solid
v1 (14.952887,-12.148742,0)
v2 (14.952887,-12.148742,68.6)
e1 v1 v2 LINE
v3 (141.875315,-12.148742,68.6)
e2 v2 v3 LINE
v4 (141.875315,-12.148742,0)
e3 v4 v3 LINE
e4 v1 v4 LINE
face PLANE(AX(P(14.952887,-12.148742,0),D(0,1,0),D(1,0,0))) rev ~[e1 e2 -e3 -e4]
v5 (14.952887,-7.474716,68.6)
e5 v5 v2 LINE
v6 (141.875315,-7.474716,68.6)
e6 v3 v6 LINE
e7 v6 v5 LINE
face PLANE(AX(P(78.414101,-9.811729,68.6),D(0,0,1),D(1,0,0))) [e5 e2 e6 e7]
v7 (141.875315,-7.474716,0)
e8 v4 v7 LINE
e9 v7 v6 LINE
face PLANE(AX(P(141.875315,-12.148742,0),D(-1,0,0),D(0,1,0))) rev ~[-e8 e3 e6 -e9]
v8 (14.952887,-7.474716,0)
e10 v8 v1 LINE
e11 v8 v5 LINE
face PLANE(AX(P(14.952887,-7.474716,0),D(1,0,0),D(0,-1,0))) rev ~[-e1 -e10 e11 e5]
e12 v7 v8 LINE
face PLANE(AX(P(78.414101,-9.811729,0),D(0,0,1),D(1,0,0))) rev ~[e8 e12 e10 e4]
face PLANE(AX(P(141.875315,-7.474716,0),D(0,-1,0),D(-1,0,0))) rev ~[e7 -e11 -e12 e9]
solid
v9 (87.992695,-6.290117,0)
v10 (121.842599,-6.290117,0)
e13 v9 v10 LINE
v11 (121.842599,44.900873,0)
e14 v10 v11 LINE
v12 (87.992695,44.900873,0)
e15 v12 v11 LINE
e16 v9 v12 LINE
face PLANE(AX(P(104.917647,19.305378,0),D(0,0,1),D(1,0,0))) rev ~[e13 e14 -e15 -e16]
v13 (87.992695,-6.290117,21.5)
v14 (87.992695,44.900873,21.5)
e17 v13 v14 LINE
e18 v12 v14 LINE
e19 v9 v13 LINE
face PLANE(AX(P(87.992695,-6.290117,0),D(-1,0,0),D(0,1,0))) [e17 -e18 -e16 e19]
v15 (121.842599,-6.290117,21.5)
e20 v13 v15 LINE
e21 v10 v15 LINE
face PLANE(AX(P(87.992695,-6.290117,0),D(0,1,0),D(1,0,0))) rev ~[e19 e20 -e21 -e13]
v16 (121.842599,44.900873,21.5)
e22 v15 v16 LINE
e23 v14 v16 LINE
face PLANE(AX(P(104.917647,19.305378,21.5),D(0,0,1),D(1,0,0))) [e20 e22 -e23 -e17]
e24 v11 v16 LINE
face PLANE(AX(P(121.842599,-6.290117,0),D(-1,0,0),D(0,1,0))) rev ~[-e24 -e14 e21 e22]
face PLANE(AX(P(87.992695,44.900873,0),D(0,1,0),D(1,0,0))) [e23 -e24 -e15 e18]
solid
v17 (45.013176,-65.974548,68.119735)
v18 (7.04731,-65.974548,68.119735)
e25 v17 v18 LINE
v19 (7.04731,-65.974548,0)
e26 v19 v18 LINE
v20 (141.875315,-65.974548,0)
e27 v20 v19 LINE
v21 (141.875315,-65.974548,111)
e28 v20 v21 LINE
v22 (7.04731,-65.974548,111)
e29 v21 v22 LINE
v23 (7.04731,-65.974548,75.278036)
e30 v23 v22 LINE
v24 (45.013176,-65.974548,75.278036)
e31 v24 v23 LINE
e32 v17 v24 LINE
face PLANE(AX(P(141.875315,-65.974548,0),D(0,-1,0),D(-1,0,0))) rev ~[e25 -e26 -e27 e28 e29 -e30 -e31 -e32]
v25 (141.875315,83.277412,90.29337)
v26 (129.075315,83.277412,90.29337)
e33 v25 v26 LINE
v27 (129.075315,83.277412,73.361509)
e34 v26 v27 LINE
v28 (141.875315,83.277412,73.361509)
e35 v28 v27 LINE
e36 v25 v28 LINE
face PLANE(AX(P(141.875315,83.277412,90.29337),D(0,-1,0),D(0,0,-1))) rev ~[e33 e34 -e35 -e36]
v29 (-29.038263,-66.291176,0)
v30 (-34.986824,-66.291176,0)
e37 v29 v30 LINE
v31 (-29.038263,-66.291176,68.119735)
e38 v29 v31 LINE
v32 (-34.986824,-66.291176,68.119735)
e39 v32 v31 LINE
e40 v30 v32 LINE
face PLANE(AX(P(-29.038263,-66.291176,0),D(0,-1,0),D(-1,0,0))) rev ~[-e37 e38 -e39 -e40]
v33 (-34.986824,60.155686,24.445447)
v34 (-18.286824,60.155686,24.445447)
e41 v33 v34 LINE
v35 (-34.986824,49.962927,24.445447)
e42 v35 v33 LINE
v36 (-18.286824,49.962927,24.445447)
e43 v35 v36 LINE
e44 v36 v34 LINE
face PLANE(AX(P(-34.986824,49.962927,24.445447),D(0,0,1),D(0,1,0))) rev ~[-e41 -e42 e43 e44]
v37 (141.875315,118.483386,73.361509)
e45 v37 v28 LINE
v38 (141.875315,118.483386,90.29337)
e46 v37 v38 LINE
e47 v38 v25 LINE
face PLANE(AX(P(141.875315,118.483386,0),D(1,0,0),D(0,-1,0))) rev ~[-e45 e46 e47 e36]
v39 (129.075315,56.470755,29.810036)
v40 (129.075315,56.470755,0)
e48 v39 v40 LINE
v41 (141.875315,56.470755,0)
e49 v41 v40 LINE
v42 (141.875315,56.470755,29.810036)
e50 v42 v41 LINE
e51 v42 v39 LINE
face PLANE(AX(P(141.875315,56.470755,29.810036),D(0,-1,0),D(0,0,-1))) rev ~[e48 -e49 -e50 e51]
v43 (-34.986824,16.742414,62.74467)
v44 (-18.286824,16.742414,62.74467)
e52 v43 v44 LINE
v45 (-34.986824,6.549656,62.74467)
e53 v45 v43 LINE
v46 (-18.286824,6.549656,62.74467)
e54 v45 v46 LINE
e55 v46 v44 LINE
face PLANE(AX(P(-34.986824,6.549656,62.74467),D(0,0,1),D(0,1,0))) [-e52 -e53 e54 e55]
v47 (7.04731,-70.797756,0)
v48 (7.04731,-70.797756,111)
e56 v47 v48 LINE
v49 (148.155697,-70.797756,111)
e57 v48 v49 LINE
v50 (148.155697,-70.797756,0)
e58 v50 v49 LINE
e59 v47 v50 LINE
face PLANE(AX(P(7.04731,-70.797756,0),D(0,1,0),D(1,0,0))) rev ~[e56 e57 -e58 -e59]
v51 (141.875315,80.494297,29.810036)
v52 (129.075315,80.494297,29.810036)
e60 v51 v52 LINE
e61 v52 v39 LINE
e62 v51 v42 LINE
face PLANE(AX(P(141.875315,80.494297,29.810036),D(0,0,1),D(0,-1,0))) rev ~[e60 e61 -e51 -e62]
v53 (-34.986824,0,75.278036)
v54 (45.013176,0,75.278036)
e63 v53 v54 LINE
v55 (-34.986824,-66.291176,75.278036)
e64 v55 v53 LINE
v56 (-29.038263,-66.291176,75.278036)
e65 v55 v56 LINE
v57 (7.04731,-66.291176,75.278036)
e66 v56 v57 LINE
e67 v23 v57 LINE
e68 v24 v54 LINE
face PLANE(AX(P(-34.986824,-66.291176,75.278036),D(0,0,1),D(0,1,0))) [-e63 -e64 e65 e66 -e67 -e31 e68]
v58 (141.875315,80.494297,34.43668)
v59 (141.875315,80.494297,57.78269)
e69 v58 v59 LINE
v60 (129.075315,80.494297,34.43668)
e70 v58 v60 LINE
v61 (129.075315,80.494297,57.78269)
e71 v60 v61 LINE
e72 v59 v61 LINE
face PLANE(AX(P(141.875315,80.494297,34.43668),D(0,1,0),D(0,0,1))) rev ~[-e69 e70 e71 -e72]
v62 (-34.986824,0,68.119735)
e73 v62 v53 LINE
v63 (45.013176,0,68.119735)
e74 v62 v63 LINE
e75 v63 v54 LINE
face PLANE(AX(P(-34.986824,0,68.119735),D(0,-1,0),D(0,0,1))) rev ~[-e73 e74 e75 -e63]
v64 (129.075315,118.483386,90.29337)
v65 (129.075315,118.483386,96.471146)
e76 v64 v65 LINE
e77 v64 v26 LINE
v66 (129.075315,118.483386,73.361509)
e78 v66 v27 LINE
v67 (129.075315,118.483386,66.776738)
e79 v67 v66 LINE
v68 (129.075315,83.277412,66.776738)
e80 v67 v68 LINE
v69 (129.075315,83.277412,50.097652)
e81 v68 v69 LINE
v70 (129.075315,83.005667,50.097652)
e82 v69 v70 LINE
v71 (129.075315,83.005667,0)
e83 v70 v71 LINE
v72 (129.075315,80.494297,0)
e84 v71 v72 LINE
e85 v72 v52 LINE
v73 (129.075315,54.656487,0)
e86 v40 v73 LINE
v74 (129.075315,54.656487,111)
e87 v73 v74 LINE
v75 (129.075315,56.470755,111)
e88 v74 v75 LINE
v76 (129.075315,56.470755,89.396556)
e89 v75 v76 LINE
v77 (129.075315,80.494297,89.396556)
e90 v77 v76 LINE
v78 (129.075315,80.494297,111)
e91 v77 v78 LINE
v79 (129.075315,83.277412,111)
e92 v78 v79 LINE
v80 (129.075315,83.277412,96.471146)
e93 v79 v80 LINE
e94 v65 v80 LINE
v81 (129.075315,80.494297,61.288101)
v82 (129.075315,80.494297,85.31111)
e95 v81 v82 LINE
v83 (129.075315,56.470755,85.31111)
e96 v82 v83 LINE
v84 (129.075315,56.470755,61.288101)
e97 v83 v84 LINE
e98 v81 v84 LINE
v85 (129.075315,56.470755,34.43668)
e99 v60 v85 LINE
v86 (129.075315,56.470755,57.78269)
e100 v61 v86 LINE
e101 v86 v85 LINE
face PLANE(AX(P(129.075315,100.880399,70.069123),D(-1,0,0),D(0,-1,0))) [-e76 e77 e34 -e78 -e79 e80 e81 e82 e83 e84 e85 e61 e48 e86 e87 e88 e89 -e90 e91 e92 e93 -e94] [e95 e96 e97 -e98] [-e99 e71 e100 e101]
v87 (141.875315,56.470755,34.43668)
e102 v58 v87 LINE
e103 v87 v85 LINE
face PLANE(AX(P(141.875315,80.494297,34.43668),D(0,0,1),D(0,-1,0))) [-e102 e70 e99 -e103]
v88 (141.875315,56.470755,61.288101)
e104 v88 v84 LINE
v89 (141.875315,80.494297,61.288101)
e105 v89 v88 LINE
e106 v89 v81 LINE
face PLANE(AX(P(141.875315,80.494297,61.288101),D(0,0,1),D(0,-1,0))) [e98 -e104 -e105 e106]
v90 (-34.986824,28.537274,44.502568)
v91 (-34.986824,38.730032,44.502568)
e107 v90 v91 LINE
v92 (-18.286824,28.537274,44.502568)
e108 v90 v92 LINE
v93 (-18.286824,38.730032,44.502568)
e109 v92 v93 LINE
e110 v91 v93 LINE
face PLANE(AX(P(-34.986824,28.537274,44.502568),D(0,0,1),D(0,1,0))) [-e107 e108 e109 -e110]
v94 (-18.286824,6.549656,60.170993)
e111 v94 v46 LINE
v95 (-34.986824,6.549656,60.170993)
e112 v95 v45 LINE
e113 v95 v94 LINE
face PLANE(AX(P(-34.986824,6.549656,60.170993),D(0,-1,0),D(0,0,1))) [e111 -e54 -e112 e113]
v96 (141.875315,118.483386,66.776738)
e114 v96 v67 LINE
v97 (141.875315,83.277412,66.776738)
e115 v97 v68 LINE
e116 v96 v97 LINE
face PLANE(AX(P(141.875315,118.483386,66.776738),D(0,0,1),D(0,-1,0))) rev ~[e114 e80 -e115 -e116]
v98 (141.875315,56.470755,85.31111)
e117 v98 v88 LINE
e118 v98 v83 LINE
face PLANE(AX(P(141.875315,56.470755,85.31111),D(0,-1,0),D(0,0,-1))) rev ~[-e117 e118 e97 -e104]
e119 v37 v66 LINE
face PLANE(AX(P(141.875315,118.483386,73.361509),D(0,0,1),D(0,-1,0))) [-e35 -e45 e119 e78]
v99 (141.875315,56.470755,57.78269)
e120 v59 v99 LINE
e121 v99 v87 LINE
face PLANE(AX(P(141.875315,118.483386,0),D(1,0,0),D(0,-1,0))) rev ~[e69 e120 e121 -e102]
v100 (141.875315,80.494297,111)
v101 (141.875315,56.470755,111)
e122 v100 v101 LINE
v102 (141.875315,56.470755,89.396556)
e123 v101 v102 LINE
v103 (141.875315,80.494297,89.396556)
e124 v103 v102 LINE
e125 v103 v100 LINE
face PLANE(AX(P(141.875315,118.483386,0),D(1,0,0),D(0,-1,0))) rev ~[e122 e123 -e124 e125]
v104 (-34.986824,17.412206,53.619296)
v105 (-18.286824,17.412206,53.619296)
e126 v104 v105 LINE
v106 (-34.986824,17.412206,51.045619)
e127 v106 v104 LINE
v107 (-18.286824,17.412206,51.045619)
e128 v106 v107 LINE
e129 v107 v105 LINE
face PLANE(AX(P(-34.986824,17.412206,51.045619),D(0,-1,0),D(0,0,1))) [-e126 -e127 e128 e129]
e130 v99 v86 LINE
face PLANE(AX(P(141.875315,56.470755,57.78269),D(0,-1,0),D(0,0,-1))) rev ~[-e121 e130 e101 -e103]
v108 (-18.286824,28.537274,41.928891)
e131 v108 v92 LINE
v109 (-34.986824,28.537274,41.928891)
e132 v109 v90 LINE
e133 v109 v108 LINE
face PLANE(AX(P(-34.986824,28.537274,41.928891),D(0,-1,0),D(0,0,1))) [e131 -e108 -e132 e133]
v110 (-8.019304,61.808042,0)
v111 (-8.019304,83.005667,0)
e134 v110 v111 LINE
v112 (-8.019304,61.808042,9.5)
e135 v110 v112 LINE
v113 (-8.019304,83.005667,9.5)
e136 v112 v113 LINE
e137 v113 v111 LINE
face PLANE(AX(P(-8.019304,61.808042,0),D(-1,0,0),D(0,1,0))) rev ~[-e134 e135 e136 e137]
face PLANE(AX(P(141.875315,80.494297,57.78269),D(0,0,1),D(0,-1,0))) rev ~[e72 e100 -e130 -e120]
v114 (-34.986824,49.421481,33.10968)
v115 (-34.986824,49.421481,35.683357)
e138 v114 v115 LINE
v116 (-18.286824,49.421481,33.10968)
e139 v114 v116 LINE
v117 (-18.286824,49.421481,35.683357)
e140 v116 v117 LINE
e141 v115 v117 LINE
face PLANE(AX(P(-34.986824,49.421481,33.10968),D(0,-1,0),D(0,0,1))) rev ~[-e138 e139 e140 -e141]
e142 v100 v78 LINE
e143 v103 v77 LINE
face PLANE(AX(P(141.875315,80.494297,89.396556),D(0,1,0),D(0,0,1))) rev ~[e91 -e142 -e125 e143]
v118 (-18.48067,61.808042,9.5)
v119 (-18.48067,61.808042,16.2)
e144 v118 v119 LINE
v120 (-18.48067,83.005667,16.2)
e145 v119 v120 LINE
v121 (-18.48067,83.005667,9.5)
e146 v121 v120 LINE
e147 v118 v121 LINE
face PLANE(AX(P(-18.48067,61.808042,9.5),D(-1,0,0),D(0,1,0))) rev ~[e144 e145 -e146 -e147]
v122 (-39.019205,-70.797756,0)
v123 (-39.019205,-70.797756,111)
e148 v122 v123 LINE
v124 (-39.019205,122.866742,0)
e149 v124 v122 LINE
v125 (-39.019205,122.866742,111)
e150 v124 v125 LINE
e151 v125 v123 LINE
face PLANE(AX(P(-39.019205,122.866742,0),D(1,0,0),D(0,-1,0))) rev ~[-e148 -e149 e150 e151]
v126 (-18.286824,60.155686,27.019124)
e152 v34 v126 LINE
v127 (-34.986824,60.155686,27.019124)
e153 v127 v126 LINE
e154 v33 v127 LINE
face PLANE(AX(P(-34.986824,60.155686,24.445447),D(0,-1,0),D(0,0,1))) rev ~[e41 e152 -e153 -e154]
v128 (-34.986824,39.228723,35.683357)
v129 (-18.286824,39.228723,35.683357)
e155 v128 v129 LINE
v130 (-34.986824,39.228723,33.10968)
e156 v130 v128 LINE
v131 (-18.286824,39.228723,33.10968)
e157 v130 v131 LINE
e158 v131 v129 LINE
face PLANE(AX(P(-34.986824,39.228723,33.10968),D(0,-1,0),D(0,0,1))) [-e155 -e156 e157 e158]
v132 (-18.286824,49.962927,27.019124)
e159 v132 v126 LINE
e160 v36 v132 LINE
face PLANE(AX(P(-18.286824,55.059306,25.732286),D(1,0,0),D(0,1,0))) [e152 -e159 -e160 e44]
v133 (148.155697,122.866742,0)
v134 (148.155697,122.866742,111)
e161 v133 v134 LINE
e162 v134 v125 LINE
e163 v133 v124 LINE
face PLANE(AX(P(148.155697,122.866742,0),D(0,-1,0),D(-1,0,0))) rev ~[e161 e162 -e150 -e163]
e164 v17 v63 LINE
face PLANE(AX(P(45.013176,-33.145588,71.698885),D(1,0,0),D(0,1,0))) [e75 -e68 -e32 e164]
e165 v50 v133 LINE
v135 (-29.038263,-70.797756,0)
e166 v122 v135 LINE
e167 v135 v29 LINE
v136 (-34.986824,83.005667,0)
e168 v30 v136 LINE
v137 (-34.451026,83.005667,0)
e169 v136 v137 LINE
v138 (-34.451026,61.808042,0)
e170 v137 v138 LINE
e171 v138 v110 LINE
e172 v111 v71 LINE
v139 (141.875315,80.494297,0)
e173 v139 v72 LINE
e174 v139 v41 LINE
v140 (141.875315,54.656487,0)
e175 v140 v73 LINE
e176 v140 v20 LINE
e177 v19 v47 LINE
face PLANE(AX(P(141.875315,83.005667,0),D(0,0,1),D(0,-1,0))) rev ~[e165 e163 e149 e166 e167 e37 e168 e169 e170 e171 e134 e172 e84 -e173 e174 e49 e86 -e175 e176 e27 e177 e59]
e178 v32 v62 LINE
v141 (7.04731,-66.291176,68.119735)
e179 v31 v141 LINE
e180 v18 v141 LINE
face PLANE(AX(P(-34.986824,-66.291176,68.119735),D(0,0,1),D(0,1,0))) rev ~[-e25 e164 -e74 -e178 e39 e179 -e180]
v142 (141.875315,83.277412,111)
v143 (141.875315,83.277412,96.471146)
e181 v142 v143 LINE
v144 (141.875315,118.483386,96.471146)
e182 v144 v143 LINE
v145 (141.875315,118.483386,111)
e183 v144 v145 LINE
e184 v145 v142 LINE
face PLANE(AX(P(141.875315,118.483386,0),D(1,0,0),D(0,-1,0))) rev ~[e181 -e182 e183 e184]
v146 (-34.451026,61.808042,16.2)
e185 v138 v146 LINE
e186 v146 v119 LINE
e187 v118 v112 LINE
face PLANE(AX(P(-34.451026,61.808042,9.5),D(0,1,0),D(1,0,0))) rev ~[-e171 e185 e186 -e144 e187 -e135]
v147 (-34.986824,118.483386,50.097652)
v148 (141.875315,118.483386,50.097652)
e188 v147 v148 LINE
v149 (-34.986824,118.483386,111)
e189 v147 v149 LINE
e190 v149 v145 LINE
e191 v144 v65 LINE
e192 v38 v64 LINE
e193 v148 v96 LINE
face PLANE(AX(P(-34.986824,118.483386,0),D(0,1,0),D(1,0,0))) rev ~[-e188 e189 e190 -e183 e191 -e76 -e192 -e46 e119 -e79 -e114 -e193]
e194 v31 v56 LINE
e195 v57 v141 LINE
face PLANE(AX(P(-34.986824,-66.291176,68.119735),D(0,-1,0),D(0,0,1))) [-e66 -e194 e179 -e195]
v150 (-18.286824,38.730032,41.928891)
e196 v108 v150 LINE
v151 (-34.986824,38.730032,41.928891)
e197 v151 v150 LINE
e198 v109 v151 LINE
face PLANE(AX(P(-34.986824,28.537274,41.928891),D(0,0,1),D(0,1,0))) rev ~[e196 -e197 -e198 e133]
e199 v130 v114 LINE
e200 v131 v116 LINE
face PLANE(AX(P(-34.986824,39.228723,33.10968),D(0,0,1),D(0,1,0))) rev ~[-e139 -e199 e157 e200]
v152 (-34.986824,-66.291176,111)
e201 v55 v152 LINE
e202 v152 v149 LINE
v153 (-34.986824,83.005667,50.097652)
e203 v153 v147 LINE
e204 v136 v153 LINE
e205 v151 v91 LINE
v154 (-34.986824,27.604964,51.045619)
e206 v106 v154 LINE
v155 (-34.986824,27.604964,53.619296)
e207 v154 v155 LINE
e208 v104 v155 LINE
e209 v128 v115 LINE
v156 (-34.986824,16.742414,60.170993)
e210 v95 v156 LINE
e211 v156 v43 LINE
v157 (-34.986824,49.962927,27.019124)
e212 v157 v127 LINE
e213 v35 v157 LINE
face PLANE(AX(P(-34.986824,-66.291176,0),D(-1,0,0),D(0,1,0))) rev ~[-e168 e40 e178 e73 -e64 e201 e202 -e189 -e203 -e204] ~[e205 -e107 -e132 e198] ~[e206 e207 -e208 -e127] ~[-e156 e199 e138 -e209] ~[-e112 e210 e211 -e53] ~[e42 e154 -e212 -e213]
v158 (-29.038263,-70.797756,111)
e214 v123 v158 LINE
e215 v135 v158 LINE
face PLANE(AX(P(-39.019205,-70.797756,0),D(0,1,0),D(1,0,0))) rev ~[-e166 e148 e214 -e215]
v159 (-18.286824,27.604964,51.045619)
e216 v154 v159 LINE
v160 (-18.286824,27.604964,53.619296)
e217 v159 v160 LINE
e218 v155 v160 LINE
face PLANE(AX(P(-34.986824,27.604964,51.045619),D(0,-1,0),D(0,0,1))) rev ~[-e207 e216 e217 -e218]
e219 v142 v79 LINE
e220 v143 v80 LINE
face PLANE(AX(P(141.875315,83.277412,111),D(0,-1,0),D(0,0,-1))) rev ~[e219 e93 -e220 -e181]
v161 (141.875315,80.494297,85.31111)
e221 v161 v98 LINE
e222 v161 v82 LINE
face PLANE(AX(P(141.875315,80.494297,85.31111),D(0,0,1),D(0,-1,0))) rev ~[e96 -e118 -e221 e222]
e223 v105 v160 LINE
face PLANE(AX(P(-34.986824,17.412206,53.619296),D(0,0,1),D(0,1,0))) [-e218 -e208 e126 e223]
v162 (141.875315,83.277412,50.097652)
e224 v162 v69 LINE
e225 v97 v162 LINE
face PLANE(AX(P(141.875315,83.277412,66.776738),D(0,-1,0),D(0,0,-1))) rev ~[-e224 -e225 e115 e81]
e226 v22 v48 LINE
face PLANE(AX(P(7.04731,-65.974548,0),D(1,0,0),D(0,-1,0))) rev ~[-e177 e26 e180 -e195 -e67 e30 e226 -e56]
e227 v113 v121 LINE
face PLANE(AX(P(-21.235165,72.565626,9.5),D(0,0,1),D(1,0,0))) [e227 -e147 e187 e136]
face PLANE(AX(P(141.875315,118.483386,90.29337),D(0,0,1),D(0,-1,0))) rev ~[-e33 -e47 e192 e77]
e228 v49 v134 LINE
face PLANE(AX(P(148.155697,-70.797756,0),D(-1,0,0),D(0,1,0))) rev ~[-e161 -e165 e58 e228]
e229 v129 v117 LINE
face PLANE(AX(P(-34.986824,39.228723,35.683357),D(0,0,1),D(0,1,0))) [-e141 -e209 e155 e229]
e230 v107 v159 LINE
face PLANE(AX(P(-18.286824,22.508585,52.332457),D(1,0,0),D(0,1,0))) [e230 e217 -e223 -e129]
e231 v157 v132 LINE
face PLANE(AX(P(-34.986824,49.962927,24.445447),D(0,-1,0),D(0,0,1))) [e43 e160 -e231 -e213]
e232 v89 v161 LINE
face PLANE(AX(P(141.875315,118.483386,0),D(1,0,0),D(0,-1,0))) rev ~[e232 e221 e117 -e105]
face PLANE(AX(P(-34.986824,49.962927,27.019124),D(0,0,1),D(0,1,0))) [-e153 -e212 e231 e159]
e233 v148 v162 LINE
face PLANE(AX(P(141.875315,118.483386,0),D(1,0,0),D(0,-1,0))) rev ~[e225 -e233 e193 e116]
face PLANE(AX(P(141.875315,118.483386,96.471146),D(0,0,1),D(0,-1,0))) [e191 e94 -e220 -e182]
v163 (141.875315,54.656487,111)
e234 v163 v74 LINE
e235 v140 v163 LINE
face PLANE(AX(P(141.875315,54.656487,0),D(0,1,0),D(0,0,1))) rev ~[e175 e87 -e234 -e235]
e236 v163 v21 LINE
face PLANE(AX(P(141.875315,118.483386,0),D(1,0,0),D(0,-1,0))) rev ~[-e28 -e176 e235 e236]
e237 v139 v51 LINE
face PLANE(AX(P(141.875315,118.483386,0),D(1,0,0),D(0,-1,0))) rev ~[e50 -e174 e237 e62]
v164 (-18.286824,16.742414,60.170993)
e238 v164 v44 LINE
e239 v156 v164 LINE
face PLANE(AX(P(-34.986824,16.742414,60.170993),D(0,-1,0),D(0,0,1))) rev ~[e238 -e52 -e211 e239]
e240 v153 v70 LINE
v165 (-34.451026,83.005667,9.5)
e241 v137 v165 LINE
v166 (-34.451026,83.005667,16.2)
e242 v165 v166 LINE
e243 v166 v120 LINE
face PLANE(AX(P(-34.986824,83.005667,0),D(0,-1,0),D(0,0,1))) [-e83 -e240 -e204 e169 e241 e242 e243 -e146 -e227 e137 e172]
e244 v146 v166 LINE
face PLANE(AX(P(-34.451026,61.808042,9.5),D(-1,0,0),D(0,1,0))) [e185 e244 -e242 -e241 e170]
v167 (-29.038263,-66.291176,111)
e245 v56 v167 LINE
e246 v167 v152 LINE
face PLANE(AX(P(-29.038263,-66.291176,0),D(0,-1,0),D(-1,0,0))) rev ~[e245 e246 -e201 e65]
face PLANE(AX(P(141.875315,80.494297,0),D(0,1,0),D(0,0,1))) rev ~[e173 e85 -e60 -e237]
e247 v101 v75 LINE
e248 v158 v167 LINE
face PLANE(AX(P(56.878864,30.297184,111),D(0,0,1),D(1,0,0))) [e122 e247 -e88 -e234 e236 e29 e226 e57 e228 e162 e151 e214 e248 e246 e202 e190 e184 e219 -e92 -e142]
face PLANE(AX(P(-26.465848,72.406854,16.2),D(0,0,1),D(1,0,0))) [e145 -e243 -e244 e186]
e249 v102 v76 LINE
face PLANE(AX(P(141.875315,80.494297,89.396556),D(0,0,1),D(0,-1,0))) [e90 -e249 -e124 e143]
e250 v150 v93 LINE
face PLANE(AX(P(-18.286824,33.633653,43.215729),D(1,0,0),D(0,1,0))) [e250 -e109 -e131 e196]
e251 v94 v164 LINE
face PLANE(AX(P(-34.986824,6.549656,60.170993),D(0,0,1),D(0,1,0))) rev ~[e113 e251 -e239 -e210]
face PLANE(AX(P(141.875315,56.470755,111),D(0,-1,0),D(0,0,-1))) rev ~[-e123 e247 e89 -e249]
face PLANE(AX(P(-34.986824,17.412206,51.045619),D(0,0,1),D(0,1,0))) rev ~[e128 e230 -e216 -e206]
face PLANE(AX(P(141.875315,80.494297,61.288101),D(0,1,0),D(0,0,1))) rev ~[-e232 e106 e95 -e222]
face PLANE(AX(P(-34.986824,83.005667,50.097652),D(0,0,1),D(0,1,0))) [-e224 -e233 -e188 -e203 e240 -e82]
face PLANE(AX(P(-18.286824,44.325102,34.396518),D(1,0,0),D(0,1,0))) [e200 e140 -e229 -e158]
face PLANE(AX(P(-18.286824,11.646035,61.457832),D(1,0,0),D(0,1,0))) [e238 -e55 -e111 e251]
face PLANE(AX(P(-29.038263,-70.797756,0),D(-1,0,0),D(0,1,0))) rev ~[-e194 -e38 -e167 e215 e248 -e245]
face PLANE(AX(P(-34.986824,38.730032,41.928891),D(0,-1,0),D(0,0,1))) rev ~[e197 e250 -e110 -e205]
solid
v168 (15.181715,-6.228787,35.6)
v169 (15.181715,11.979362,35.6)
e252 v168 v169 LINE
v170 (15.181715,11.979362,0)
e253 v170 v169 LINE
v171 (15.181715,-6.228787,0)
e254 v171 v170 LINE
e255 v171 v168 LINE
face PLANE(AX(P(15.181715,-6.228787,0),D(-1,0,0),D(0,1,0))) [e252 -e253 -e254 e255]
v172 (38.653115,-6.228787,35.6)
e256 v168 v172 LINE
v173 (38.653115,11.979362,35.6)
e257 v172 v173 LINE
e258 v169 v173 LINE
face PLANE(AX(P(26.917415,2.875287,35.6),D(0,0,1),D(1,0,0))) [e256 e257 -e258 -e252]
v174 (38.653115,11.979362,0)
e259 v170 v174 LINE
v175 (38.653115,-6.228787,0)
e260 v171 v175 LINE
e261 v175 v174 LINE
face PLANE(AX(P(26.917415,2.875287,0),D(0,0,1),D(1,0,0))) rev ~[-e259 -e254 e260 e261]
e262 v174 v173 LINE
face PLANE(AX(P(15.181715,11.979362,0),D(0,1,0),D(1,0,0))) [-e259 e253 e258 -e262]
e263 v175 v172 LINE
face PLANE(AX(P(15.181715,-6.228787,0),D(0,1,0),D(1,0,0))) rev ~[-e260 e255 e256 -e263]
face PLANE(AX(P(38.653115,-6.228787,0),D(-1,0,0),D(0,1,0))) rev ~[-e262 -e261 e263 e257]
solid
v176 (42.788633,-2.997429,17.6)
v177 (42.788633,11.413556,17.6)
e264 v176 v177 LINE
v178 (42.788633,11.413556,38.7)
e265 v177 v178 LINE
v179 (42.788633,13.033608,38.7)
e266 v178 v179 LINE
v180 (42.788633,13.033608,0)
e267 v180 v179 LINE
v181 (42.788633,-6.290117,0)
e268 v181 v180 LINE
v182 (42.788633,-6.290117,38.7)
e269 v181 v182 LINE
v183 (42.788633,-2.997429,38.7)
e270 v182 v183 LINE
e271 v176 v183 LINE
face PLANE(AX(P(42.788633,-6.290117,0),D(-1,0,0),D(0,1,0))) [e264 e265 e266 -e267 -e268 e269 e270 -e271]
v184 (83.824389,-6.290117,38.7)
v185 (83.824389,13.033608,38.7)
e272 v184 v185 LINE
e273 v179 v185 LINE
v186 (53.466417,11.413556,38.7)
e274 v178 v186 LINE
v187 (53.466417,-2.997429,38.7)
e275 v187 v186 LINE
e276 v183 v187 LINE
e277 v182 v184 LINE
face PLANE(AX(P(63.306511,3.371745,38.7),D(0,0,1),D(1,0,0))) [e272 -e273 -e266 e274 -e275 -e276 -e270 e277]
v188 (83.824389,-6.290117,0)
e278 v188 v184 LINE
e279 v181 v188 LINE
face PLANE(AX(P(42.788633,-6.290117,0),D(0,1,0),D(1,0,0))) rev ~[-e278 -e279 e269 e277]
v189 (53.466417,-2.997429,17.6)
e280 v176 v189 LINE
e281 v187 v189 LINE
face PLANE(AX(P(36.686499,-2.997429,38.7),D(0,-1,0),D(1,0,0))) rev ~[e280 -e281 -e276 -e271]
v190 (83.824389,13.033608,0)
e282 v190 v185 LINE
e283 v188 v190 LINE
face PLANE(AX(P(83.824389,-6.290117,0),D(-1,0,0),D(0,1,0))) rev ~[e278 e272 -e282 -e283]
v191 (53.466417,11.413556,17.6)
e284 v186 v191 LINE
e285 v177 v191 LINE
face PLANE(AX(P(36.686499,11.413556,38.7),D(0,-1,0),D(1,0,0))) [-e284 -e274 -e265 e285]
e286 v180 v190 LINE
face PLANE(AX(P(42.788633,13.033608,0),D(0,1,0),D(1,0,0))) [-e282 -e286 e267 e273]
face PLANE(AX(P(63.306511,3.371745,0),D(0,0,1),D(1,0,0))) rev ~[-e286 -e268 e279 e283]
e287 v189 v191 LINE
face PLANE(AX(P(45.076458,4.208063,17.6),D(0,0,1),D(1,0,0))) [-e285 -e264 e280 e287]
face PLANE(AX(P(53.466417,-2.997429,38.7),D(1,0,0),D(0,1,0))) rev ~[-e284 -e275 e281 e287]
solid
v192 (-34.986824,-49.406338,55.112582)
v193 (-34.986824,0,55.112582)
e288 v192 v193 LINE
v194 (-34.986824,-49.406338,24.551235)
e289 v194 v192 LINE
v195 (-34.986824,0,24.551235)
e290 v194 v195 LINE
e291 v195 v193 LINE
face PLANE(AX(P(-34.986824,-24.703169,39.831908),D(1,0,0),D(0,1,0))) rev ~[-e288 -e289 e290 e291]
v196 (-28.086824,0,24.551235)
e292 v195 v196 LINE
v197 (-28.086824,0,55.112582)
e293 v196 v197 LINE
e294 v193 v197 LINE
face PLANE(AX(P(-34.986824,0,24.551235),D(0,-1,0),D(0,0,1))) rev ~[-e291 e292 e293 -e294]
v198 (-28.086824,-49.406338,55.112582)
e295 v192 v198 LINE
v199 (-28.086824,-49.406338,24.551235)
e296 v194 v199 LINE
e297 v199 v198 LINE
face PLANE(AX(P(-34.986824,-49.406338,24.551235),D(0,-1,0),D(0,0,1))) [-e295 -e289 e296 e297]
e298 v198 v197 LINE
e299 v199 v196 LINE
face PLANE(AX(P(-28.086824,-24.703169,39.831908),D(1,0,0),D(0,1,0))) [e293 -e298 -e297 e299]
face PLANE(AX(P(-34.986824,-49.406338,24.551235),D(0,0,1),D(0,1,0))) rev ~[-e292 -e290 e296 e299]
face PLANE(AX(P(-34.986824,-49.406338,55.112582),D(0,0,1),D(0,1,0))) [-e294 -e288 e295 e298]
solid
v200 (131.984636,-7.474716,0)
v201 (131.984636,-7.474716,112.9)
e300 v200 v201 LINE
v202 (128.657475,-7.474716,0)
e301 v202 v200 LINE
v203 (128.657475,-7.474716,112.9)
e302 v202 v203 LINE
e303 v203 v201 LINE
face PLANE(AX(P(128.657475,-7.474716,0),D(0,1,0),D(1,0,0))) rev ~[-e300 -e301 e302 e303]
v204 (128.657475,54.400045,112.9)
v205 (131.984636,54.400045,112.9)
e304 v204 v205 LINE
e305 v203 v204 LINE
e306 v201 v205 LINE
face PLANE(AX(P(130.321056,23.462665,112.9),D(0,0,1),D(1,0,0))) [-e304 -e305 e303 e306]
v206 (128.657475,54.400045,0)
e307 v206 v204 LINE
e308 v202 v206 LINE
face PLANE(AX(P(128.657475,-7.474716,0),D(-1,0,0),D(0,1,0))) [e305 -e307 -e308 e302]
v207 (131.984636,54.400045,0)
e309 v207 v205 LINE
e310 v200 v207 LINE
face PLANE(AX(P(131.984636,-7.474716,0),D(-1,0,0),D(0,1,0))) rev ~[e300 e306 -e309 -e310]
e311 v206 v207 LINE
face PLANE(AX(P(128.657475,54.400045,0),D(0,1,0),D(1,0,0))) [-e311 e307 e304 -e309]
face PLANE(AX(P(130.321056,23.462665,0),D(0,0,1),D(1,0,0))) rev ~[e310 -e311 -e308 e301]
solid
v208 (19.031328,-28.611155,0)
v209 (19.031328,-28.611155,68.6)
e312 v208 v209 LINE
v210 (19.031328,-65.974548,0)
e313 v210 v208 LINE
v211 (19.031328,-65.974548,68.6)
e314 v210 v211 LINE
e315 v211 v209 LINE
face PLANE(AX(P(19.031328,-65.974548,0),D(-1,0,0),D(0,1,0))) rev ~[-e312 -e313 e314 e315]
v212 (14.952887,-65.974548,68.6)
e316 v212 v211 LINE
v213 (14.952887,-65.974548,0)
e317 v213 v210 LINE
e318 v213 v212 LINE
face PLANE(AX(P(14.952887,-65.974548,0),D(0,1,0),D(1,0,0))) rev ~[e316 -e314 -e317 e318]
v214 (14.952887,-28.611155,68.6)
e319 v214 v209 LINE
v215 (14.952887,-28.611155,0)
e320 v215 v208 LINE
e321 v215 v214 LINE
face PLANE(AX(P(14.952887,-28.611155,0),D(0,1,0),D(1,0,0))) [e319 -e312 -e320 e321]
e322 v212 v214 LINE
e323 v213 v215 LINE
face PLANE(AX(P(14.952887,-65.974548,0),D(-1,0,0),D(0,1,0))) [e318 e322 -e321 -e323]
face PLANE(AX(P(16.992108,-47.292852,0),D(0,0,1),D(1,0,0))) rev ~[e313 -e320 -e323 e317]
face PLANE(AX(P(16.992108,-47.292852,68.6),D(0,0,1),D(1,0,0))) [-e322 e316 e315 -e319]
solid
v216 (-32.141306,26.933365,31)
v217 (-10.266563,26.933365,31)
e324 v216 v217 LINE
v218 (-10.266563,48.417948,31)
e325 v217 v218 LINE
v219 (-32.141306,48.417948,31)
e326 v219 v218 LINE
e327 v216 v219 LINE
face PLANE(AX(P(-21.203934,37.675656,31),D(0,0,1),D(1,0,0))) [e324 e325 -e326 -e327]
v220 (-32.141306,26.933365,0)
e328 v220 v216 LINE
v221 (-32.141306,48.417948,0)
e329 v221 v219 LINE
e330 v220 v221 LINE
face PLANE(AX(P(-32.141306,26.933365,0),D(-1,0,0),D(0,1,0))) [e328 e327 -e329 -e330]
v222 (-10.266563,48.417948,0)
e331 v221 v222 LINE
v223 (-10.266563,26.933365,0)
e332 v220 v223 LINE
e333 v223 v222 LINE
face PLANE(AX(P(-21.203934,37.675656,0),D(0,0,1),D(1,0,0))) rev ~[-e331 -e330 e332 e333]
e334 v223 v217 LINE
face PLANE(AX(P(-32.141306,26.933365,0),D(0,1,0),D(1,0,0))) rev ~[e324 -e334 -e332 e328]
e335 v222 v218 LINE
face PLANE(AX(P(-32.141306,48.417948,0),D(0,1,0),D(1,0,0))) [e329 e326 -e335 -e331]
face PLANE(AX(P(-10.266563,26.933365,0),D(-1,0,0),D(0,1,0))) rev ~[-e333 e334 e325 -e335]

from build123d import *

# Parameters (mm, degrees)
F1_DEPTH  = 111
F2_W      = 66.2911757827
F2_H      = 7.1583017707
F3_DEPTH  = 80
F4_W      = 33.8499044473
F4_H      = 51.190990489
F5_DEPTH  = 21.5
F4_W_2    = 41.0357561548
F4_H_2    = 19.3237248852
F6_DEPTH  = 38.7
F2_W_2    = 49.4063384831
F2_H_2    = 30.5613465607
F7_DEPTH  = 6.9
F2_W_3    = 35.4777190369
F2_H_3    = 50.0976517797
F8_DEPTH  = 177
F9_W      = 35.2059740108
F9_H      = 6.5847709775
F9_H_2    = 6.1777755618
F9_W_2    = 24.0235412493
F9_H_3    = 4.6266447753
F9_H_4    = 3.5054106265
F9_H_5    = 4.0854457766
F10_DEPTH = 12.8
F0_W      = 3.3271610737
F0_H      = 61.8747617118
F11_DEPTH = 112.9
F12_DEPTH = 68.6
F0_W_2    = 4.0784408338
F0_H_2    = 37.3633932322
F2_W_4    = 10.1927583568
F2_H_4    = 2.573677036
F13_DEPTH = 16.7
F4_W_3    = 21.8747425824
F4_H_3    = 21.4845836163
F14_DEPTH = 31
F15_DEPTH = 9.5
F16_W     = 15.9703567624
F16_H     = 21.1976245046
F17_DEPTH = 6.7
F4_W_4    = 23.4713996761
F4_H_4    = 18.2081488892
F18_DEPTH = 35.6
F19_W     = 16.7799182236
F19_H     = 14.4109842367
F20_DEPTH = 21.1


with BuildPart() as f1:
    # F0 (on Top) → F1 (new body)
    with BuildSketch(Plane.XY):
        Polygon((-39.0192046762, -70.7977563143), (-29.0382634848, -70.7977563143), (-29.0382634848, -66.2911757827), (-34.9868237972, -66.2911757827), (-34.9868237972, 118.4833857697), (141.8753154576, 118.4833857697), (141.8753154576, -7.4747162871), (141.8753154576, -12.1487416327), (141.8753154576, -65.9745484591), (19.0313281491, -65.9745484591), (14.9528873153, -65.9745484591), (7.0473095402, -65.9745484591), (7.0473095402, -70.7977563143), (148.1556966901, -70.7977563143), (148.1556966901, 122.8667423129), (-39.0192046762, 122.8667423129), align=None)
    extrude(amount=F1_DEPTH)

    # F2 (on face) → F3 (join)
    with BuildSketch(Plane.YZ.offset(-34.9868237972)):
        with Locations((-33.1455878913, 71.698885411)):
            Rectangle(F2_W, F2_H)
    extrude(amount=F3_DEPTH)

    # F2 (on face) → F8 (join)
    with BuildSketch(Plane.YZ.offset(-34.9868237972)):
        with Locations((100.7445262512, 25.0488258898)):
            Rectangle(F2_W_3, F2_H_3)
    extrude(amount=F8_DEPTH)

    # F9 (on face) → F10 (join)
    with BuildSketch(Plane(origin=(141.8753154576, 0, 0), x_dir=(0, -1, 0), z_dir=(-1, 0, 0))):
        with Locations((-100.8803987643, 70.0691230595)):
            Rectangle(F9_W, F9_H)
        with Locations((-100.8803987643, 93.3822579682)):
            Rectangle(F9_W, F9_H_2)
        with Locations((-68.4825261123, 32.1233579889)):
            Rectangle(F9_W_2, F9_H_3)
        with Locations((-68.4825261123, 59.535395354)):
            Rectangle(F9_W_2, F9_H_4)
        with Locations((-68.4825261123, 87.3538330197)):
            Rectangle(F9_W_2, F9_H_5)
        Polygon((-83.0056667328, 0), (-80.494296737, 0), (-80.494296737, 29.8100356013), (-80.494296737, 34.4366803765), (-80.494296737, 57.7826900408), (-80.494296737, 61.2881006673), (-80.494296737, 85.3111101314), (-80.494296737, 89.396555908), (-80.494296737, 111), (-83.2774117589, 111), (-83.2774117589, 96.4711457491), (-83.2774117589, 90.2933701873), (-83.2774117589, 73.3615085483), (-83.2774117589, 66.7767375708), (-83.2774117589, 50.0976517797), (-83.0056667328, 50.0976517797), align=None)
        Polygon((-56.4707554877, 0), (-54.6564869583, 0), (-54.6564869583, 111), (-56.4707554877, 111), (-56.4707554877, 89.396555908), (-56.4707554877, 85.3111101314), (-56.4707554877, 61.2881006673), (-56.4707554877, 57.7826900408), (-56.4707554877, 34.4366803765), (-56.4707554877, 29.8100356013), align=None)
    extrude(amount=F10_DEPTH)

    # F2 (on face) → F13 (join)
    with BuildSketch(Plane.YZ.offset(-34.9868237972)):
        with Locations((11.6460346852, 61.4578317269)):
            Rectangle(F2_W_4, F2_H_4)
        with Locations((22.5085848942, 52.332457155)):
            Rectangle(F2_W_4, F2_H_4)
        with Locations((33.6336530745, 43.2157292962)):
            Rectangle(F2_W_4, F2_H_4)
        with Locations((44.3251021206, 34.3965180218)):
            Rectangle(F2_W_4, F2_H_4)
        with Locations((55.0593063235, 25.7322858088)):
            Rectangle(F2_W_4, F2_H_4)
    extrude(amount=F13_DEPTH)

    # F0 (on Top) → F15 (join)
    with BuildSketch(Plane.XY):
        Polygon((-8.019303903, 83.3232104778), (-34.4510264695, 83.3232104778), (-34.4510264695, 61.8080422282), (-23.7644277513, 61.8080422282), (-8.019303903, 61.8080422282), align=None)
    extrude(amount=F15_DEPTH)

    # F16 (on face) → F17 (join)
    with BuildSketch(Plane.XY.offset(9.5)):
        with Locations((-26.4658480883, 72.4068544805)):
            Rectangle(F16_W, F16_H)
    extrude(amount=F17_DEPTH)


with BuildPart() as f5:
    # F4 (on Top) → F5 (new body)
    with BuildSketch(Plane.XY):
        with Locations((104.9176470698, 19.3053778683)):
            Rectangle(F4_W, F4_H)
    extrude(amount=F5_DEPTH)


with BuildPart() as f6:
    # F4 (on Top) → F6 (new body)
    with BuildSketch(Plane.XY):
        with Locations((63.3065112228, 3.3717450664)):
            Rectangle(F4_W_2, F4_H_2)
    extrude(amount=F6_DEPTH)

    # F19 (on face) → F20 (cut)
    with BuildSketch(Plane.XY.offset(38.7)):
        with Locations((45.0764577836, 4.2080634739)):
            Rectangle(F19_W, F19_H)
    extrude(amount=-F20_DEPTH, mode=Mode.SUBTRACT)


with BuildPart() as f7:
    # F2 (on face) → F7 (new body)
    with BuildSketch(Plane.YZ.offset(-34.9868237972)):
        with Locations((-24.7031692415, 39.8319084197)):
            Rectangle(F2_W_2, F2_H_2)
    extrude(amount=F7_DEPTH)


with BuildPart() as f11:
    # F0 (on Top) → F11 (new body)
    with BuildSketch(Plane.XY):
        with Locations((130.3210556507, 23.4626645688)):
            Rectangle(F0_W, F0_H)
    extrude(amount=F11_DEPTH)


with BuildPart() as f12:
    # F0 (on Top) → F12 (new body)
    with BuildSketch(Plane.XY):
        Polygon((141.8753154576, -12.1487416327), (141.8753154576, -7.4747162871), (131.9846361876, -7.4747162871), (128.6574751139, -7.4747162871), (14.9528873153, -7.4747162871), (14.9528873153, -12.1487416327), align=None)
    extrude(amount=F12_DEPTH)


with BuildPart() as f12b:
    # F0 (on Top) → F12, piece 2 (new body)
    with BuildSketch(Plane.XY):
        with Locations((16.9921077322, -47.2928518429)):
            Rectangle(F0_W_2, F0_H_2)
    extrude(amount=F12_DEPTH)


with BuildPart() as f14:
    # F4 (on Top) → F14 (new body)
    with BuildSketch(Plane.XY):
        with Locations((-21.203934215, 37.6756563783)):
            Rectangle(F4_W_3, F4_H_3)
    extrude(amount=F14_DEPTH)


with BuildPart() as f18:
    # F4 (on Top) → F18 (new body)
    with BuildSketch(Plane.XY):
        with Locations((26.9174149726, 2.8752870858)):
            Rectangle(F4_W_4, F4_H_4)
    extrude(amount=F18_DEPTH)


solid = Compound([f1.part, f5.part, f6.part, f7.part, f11.part, f12.part, f12b.part, f14.part, f18.part])
